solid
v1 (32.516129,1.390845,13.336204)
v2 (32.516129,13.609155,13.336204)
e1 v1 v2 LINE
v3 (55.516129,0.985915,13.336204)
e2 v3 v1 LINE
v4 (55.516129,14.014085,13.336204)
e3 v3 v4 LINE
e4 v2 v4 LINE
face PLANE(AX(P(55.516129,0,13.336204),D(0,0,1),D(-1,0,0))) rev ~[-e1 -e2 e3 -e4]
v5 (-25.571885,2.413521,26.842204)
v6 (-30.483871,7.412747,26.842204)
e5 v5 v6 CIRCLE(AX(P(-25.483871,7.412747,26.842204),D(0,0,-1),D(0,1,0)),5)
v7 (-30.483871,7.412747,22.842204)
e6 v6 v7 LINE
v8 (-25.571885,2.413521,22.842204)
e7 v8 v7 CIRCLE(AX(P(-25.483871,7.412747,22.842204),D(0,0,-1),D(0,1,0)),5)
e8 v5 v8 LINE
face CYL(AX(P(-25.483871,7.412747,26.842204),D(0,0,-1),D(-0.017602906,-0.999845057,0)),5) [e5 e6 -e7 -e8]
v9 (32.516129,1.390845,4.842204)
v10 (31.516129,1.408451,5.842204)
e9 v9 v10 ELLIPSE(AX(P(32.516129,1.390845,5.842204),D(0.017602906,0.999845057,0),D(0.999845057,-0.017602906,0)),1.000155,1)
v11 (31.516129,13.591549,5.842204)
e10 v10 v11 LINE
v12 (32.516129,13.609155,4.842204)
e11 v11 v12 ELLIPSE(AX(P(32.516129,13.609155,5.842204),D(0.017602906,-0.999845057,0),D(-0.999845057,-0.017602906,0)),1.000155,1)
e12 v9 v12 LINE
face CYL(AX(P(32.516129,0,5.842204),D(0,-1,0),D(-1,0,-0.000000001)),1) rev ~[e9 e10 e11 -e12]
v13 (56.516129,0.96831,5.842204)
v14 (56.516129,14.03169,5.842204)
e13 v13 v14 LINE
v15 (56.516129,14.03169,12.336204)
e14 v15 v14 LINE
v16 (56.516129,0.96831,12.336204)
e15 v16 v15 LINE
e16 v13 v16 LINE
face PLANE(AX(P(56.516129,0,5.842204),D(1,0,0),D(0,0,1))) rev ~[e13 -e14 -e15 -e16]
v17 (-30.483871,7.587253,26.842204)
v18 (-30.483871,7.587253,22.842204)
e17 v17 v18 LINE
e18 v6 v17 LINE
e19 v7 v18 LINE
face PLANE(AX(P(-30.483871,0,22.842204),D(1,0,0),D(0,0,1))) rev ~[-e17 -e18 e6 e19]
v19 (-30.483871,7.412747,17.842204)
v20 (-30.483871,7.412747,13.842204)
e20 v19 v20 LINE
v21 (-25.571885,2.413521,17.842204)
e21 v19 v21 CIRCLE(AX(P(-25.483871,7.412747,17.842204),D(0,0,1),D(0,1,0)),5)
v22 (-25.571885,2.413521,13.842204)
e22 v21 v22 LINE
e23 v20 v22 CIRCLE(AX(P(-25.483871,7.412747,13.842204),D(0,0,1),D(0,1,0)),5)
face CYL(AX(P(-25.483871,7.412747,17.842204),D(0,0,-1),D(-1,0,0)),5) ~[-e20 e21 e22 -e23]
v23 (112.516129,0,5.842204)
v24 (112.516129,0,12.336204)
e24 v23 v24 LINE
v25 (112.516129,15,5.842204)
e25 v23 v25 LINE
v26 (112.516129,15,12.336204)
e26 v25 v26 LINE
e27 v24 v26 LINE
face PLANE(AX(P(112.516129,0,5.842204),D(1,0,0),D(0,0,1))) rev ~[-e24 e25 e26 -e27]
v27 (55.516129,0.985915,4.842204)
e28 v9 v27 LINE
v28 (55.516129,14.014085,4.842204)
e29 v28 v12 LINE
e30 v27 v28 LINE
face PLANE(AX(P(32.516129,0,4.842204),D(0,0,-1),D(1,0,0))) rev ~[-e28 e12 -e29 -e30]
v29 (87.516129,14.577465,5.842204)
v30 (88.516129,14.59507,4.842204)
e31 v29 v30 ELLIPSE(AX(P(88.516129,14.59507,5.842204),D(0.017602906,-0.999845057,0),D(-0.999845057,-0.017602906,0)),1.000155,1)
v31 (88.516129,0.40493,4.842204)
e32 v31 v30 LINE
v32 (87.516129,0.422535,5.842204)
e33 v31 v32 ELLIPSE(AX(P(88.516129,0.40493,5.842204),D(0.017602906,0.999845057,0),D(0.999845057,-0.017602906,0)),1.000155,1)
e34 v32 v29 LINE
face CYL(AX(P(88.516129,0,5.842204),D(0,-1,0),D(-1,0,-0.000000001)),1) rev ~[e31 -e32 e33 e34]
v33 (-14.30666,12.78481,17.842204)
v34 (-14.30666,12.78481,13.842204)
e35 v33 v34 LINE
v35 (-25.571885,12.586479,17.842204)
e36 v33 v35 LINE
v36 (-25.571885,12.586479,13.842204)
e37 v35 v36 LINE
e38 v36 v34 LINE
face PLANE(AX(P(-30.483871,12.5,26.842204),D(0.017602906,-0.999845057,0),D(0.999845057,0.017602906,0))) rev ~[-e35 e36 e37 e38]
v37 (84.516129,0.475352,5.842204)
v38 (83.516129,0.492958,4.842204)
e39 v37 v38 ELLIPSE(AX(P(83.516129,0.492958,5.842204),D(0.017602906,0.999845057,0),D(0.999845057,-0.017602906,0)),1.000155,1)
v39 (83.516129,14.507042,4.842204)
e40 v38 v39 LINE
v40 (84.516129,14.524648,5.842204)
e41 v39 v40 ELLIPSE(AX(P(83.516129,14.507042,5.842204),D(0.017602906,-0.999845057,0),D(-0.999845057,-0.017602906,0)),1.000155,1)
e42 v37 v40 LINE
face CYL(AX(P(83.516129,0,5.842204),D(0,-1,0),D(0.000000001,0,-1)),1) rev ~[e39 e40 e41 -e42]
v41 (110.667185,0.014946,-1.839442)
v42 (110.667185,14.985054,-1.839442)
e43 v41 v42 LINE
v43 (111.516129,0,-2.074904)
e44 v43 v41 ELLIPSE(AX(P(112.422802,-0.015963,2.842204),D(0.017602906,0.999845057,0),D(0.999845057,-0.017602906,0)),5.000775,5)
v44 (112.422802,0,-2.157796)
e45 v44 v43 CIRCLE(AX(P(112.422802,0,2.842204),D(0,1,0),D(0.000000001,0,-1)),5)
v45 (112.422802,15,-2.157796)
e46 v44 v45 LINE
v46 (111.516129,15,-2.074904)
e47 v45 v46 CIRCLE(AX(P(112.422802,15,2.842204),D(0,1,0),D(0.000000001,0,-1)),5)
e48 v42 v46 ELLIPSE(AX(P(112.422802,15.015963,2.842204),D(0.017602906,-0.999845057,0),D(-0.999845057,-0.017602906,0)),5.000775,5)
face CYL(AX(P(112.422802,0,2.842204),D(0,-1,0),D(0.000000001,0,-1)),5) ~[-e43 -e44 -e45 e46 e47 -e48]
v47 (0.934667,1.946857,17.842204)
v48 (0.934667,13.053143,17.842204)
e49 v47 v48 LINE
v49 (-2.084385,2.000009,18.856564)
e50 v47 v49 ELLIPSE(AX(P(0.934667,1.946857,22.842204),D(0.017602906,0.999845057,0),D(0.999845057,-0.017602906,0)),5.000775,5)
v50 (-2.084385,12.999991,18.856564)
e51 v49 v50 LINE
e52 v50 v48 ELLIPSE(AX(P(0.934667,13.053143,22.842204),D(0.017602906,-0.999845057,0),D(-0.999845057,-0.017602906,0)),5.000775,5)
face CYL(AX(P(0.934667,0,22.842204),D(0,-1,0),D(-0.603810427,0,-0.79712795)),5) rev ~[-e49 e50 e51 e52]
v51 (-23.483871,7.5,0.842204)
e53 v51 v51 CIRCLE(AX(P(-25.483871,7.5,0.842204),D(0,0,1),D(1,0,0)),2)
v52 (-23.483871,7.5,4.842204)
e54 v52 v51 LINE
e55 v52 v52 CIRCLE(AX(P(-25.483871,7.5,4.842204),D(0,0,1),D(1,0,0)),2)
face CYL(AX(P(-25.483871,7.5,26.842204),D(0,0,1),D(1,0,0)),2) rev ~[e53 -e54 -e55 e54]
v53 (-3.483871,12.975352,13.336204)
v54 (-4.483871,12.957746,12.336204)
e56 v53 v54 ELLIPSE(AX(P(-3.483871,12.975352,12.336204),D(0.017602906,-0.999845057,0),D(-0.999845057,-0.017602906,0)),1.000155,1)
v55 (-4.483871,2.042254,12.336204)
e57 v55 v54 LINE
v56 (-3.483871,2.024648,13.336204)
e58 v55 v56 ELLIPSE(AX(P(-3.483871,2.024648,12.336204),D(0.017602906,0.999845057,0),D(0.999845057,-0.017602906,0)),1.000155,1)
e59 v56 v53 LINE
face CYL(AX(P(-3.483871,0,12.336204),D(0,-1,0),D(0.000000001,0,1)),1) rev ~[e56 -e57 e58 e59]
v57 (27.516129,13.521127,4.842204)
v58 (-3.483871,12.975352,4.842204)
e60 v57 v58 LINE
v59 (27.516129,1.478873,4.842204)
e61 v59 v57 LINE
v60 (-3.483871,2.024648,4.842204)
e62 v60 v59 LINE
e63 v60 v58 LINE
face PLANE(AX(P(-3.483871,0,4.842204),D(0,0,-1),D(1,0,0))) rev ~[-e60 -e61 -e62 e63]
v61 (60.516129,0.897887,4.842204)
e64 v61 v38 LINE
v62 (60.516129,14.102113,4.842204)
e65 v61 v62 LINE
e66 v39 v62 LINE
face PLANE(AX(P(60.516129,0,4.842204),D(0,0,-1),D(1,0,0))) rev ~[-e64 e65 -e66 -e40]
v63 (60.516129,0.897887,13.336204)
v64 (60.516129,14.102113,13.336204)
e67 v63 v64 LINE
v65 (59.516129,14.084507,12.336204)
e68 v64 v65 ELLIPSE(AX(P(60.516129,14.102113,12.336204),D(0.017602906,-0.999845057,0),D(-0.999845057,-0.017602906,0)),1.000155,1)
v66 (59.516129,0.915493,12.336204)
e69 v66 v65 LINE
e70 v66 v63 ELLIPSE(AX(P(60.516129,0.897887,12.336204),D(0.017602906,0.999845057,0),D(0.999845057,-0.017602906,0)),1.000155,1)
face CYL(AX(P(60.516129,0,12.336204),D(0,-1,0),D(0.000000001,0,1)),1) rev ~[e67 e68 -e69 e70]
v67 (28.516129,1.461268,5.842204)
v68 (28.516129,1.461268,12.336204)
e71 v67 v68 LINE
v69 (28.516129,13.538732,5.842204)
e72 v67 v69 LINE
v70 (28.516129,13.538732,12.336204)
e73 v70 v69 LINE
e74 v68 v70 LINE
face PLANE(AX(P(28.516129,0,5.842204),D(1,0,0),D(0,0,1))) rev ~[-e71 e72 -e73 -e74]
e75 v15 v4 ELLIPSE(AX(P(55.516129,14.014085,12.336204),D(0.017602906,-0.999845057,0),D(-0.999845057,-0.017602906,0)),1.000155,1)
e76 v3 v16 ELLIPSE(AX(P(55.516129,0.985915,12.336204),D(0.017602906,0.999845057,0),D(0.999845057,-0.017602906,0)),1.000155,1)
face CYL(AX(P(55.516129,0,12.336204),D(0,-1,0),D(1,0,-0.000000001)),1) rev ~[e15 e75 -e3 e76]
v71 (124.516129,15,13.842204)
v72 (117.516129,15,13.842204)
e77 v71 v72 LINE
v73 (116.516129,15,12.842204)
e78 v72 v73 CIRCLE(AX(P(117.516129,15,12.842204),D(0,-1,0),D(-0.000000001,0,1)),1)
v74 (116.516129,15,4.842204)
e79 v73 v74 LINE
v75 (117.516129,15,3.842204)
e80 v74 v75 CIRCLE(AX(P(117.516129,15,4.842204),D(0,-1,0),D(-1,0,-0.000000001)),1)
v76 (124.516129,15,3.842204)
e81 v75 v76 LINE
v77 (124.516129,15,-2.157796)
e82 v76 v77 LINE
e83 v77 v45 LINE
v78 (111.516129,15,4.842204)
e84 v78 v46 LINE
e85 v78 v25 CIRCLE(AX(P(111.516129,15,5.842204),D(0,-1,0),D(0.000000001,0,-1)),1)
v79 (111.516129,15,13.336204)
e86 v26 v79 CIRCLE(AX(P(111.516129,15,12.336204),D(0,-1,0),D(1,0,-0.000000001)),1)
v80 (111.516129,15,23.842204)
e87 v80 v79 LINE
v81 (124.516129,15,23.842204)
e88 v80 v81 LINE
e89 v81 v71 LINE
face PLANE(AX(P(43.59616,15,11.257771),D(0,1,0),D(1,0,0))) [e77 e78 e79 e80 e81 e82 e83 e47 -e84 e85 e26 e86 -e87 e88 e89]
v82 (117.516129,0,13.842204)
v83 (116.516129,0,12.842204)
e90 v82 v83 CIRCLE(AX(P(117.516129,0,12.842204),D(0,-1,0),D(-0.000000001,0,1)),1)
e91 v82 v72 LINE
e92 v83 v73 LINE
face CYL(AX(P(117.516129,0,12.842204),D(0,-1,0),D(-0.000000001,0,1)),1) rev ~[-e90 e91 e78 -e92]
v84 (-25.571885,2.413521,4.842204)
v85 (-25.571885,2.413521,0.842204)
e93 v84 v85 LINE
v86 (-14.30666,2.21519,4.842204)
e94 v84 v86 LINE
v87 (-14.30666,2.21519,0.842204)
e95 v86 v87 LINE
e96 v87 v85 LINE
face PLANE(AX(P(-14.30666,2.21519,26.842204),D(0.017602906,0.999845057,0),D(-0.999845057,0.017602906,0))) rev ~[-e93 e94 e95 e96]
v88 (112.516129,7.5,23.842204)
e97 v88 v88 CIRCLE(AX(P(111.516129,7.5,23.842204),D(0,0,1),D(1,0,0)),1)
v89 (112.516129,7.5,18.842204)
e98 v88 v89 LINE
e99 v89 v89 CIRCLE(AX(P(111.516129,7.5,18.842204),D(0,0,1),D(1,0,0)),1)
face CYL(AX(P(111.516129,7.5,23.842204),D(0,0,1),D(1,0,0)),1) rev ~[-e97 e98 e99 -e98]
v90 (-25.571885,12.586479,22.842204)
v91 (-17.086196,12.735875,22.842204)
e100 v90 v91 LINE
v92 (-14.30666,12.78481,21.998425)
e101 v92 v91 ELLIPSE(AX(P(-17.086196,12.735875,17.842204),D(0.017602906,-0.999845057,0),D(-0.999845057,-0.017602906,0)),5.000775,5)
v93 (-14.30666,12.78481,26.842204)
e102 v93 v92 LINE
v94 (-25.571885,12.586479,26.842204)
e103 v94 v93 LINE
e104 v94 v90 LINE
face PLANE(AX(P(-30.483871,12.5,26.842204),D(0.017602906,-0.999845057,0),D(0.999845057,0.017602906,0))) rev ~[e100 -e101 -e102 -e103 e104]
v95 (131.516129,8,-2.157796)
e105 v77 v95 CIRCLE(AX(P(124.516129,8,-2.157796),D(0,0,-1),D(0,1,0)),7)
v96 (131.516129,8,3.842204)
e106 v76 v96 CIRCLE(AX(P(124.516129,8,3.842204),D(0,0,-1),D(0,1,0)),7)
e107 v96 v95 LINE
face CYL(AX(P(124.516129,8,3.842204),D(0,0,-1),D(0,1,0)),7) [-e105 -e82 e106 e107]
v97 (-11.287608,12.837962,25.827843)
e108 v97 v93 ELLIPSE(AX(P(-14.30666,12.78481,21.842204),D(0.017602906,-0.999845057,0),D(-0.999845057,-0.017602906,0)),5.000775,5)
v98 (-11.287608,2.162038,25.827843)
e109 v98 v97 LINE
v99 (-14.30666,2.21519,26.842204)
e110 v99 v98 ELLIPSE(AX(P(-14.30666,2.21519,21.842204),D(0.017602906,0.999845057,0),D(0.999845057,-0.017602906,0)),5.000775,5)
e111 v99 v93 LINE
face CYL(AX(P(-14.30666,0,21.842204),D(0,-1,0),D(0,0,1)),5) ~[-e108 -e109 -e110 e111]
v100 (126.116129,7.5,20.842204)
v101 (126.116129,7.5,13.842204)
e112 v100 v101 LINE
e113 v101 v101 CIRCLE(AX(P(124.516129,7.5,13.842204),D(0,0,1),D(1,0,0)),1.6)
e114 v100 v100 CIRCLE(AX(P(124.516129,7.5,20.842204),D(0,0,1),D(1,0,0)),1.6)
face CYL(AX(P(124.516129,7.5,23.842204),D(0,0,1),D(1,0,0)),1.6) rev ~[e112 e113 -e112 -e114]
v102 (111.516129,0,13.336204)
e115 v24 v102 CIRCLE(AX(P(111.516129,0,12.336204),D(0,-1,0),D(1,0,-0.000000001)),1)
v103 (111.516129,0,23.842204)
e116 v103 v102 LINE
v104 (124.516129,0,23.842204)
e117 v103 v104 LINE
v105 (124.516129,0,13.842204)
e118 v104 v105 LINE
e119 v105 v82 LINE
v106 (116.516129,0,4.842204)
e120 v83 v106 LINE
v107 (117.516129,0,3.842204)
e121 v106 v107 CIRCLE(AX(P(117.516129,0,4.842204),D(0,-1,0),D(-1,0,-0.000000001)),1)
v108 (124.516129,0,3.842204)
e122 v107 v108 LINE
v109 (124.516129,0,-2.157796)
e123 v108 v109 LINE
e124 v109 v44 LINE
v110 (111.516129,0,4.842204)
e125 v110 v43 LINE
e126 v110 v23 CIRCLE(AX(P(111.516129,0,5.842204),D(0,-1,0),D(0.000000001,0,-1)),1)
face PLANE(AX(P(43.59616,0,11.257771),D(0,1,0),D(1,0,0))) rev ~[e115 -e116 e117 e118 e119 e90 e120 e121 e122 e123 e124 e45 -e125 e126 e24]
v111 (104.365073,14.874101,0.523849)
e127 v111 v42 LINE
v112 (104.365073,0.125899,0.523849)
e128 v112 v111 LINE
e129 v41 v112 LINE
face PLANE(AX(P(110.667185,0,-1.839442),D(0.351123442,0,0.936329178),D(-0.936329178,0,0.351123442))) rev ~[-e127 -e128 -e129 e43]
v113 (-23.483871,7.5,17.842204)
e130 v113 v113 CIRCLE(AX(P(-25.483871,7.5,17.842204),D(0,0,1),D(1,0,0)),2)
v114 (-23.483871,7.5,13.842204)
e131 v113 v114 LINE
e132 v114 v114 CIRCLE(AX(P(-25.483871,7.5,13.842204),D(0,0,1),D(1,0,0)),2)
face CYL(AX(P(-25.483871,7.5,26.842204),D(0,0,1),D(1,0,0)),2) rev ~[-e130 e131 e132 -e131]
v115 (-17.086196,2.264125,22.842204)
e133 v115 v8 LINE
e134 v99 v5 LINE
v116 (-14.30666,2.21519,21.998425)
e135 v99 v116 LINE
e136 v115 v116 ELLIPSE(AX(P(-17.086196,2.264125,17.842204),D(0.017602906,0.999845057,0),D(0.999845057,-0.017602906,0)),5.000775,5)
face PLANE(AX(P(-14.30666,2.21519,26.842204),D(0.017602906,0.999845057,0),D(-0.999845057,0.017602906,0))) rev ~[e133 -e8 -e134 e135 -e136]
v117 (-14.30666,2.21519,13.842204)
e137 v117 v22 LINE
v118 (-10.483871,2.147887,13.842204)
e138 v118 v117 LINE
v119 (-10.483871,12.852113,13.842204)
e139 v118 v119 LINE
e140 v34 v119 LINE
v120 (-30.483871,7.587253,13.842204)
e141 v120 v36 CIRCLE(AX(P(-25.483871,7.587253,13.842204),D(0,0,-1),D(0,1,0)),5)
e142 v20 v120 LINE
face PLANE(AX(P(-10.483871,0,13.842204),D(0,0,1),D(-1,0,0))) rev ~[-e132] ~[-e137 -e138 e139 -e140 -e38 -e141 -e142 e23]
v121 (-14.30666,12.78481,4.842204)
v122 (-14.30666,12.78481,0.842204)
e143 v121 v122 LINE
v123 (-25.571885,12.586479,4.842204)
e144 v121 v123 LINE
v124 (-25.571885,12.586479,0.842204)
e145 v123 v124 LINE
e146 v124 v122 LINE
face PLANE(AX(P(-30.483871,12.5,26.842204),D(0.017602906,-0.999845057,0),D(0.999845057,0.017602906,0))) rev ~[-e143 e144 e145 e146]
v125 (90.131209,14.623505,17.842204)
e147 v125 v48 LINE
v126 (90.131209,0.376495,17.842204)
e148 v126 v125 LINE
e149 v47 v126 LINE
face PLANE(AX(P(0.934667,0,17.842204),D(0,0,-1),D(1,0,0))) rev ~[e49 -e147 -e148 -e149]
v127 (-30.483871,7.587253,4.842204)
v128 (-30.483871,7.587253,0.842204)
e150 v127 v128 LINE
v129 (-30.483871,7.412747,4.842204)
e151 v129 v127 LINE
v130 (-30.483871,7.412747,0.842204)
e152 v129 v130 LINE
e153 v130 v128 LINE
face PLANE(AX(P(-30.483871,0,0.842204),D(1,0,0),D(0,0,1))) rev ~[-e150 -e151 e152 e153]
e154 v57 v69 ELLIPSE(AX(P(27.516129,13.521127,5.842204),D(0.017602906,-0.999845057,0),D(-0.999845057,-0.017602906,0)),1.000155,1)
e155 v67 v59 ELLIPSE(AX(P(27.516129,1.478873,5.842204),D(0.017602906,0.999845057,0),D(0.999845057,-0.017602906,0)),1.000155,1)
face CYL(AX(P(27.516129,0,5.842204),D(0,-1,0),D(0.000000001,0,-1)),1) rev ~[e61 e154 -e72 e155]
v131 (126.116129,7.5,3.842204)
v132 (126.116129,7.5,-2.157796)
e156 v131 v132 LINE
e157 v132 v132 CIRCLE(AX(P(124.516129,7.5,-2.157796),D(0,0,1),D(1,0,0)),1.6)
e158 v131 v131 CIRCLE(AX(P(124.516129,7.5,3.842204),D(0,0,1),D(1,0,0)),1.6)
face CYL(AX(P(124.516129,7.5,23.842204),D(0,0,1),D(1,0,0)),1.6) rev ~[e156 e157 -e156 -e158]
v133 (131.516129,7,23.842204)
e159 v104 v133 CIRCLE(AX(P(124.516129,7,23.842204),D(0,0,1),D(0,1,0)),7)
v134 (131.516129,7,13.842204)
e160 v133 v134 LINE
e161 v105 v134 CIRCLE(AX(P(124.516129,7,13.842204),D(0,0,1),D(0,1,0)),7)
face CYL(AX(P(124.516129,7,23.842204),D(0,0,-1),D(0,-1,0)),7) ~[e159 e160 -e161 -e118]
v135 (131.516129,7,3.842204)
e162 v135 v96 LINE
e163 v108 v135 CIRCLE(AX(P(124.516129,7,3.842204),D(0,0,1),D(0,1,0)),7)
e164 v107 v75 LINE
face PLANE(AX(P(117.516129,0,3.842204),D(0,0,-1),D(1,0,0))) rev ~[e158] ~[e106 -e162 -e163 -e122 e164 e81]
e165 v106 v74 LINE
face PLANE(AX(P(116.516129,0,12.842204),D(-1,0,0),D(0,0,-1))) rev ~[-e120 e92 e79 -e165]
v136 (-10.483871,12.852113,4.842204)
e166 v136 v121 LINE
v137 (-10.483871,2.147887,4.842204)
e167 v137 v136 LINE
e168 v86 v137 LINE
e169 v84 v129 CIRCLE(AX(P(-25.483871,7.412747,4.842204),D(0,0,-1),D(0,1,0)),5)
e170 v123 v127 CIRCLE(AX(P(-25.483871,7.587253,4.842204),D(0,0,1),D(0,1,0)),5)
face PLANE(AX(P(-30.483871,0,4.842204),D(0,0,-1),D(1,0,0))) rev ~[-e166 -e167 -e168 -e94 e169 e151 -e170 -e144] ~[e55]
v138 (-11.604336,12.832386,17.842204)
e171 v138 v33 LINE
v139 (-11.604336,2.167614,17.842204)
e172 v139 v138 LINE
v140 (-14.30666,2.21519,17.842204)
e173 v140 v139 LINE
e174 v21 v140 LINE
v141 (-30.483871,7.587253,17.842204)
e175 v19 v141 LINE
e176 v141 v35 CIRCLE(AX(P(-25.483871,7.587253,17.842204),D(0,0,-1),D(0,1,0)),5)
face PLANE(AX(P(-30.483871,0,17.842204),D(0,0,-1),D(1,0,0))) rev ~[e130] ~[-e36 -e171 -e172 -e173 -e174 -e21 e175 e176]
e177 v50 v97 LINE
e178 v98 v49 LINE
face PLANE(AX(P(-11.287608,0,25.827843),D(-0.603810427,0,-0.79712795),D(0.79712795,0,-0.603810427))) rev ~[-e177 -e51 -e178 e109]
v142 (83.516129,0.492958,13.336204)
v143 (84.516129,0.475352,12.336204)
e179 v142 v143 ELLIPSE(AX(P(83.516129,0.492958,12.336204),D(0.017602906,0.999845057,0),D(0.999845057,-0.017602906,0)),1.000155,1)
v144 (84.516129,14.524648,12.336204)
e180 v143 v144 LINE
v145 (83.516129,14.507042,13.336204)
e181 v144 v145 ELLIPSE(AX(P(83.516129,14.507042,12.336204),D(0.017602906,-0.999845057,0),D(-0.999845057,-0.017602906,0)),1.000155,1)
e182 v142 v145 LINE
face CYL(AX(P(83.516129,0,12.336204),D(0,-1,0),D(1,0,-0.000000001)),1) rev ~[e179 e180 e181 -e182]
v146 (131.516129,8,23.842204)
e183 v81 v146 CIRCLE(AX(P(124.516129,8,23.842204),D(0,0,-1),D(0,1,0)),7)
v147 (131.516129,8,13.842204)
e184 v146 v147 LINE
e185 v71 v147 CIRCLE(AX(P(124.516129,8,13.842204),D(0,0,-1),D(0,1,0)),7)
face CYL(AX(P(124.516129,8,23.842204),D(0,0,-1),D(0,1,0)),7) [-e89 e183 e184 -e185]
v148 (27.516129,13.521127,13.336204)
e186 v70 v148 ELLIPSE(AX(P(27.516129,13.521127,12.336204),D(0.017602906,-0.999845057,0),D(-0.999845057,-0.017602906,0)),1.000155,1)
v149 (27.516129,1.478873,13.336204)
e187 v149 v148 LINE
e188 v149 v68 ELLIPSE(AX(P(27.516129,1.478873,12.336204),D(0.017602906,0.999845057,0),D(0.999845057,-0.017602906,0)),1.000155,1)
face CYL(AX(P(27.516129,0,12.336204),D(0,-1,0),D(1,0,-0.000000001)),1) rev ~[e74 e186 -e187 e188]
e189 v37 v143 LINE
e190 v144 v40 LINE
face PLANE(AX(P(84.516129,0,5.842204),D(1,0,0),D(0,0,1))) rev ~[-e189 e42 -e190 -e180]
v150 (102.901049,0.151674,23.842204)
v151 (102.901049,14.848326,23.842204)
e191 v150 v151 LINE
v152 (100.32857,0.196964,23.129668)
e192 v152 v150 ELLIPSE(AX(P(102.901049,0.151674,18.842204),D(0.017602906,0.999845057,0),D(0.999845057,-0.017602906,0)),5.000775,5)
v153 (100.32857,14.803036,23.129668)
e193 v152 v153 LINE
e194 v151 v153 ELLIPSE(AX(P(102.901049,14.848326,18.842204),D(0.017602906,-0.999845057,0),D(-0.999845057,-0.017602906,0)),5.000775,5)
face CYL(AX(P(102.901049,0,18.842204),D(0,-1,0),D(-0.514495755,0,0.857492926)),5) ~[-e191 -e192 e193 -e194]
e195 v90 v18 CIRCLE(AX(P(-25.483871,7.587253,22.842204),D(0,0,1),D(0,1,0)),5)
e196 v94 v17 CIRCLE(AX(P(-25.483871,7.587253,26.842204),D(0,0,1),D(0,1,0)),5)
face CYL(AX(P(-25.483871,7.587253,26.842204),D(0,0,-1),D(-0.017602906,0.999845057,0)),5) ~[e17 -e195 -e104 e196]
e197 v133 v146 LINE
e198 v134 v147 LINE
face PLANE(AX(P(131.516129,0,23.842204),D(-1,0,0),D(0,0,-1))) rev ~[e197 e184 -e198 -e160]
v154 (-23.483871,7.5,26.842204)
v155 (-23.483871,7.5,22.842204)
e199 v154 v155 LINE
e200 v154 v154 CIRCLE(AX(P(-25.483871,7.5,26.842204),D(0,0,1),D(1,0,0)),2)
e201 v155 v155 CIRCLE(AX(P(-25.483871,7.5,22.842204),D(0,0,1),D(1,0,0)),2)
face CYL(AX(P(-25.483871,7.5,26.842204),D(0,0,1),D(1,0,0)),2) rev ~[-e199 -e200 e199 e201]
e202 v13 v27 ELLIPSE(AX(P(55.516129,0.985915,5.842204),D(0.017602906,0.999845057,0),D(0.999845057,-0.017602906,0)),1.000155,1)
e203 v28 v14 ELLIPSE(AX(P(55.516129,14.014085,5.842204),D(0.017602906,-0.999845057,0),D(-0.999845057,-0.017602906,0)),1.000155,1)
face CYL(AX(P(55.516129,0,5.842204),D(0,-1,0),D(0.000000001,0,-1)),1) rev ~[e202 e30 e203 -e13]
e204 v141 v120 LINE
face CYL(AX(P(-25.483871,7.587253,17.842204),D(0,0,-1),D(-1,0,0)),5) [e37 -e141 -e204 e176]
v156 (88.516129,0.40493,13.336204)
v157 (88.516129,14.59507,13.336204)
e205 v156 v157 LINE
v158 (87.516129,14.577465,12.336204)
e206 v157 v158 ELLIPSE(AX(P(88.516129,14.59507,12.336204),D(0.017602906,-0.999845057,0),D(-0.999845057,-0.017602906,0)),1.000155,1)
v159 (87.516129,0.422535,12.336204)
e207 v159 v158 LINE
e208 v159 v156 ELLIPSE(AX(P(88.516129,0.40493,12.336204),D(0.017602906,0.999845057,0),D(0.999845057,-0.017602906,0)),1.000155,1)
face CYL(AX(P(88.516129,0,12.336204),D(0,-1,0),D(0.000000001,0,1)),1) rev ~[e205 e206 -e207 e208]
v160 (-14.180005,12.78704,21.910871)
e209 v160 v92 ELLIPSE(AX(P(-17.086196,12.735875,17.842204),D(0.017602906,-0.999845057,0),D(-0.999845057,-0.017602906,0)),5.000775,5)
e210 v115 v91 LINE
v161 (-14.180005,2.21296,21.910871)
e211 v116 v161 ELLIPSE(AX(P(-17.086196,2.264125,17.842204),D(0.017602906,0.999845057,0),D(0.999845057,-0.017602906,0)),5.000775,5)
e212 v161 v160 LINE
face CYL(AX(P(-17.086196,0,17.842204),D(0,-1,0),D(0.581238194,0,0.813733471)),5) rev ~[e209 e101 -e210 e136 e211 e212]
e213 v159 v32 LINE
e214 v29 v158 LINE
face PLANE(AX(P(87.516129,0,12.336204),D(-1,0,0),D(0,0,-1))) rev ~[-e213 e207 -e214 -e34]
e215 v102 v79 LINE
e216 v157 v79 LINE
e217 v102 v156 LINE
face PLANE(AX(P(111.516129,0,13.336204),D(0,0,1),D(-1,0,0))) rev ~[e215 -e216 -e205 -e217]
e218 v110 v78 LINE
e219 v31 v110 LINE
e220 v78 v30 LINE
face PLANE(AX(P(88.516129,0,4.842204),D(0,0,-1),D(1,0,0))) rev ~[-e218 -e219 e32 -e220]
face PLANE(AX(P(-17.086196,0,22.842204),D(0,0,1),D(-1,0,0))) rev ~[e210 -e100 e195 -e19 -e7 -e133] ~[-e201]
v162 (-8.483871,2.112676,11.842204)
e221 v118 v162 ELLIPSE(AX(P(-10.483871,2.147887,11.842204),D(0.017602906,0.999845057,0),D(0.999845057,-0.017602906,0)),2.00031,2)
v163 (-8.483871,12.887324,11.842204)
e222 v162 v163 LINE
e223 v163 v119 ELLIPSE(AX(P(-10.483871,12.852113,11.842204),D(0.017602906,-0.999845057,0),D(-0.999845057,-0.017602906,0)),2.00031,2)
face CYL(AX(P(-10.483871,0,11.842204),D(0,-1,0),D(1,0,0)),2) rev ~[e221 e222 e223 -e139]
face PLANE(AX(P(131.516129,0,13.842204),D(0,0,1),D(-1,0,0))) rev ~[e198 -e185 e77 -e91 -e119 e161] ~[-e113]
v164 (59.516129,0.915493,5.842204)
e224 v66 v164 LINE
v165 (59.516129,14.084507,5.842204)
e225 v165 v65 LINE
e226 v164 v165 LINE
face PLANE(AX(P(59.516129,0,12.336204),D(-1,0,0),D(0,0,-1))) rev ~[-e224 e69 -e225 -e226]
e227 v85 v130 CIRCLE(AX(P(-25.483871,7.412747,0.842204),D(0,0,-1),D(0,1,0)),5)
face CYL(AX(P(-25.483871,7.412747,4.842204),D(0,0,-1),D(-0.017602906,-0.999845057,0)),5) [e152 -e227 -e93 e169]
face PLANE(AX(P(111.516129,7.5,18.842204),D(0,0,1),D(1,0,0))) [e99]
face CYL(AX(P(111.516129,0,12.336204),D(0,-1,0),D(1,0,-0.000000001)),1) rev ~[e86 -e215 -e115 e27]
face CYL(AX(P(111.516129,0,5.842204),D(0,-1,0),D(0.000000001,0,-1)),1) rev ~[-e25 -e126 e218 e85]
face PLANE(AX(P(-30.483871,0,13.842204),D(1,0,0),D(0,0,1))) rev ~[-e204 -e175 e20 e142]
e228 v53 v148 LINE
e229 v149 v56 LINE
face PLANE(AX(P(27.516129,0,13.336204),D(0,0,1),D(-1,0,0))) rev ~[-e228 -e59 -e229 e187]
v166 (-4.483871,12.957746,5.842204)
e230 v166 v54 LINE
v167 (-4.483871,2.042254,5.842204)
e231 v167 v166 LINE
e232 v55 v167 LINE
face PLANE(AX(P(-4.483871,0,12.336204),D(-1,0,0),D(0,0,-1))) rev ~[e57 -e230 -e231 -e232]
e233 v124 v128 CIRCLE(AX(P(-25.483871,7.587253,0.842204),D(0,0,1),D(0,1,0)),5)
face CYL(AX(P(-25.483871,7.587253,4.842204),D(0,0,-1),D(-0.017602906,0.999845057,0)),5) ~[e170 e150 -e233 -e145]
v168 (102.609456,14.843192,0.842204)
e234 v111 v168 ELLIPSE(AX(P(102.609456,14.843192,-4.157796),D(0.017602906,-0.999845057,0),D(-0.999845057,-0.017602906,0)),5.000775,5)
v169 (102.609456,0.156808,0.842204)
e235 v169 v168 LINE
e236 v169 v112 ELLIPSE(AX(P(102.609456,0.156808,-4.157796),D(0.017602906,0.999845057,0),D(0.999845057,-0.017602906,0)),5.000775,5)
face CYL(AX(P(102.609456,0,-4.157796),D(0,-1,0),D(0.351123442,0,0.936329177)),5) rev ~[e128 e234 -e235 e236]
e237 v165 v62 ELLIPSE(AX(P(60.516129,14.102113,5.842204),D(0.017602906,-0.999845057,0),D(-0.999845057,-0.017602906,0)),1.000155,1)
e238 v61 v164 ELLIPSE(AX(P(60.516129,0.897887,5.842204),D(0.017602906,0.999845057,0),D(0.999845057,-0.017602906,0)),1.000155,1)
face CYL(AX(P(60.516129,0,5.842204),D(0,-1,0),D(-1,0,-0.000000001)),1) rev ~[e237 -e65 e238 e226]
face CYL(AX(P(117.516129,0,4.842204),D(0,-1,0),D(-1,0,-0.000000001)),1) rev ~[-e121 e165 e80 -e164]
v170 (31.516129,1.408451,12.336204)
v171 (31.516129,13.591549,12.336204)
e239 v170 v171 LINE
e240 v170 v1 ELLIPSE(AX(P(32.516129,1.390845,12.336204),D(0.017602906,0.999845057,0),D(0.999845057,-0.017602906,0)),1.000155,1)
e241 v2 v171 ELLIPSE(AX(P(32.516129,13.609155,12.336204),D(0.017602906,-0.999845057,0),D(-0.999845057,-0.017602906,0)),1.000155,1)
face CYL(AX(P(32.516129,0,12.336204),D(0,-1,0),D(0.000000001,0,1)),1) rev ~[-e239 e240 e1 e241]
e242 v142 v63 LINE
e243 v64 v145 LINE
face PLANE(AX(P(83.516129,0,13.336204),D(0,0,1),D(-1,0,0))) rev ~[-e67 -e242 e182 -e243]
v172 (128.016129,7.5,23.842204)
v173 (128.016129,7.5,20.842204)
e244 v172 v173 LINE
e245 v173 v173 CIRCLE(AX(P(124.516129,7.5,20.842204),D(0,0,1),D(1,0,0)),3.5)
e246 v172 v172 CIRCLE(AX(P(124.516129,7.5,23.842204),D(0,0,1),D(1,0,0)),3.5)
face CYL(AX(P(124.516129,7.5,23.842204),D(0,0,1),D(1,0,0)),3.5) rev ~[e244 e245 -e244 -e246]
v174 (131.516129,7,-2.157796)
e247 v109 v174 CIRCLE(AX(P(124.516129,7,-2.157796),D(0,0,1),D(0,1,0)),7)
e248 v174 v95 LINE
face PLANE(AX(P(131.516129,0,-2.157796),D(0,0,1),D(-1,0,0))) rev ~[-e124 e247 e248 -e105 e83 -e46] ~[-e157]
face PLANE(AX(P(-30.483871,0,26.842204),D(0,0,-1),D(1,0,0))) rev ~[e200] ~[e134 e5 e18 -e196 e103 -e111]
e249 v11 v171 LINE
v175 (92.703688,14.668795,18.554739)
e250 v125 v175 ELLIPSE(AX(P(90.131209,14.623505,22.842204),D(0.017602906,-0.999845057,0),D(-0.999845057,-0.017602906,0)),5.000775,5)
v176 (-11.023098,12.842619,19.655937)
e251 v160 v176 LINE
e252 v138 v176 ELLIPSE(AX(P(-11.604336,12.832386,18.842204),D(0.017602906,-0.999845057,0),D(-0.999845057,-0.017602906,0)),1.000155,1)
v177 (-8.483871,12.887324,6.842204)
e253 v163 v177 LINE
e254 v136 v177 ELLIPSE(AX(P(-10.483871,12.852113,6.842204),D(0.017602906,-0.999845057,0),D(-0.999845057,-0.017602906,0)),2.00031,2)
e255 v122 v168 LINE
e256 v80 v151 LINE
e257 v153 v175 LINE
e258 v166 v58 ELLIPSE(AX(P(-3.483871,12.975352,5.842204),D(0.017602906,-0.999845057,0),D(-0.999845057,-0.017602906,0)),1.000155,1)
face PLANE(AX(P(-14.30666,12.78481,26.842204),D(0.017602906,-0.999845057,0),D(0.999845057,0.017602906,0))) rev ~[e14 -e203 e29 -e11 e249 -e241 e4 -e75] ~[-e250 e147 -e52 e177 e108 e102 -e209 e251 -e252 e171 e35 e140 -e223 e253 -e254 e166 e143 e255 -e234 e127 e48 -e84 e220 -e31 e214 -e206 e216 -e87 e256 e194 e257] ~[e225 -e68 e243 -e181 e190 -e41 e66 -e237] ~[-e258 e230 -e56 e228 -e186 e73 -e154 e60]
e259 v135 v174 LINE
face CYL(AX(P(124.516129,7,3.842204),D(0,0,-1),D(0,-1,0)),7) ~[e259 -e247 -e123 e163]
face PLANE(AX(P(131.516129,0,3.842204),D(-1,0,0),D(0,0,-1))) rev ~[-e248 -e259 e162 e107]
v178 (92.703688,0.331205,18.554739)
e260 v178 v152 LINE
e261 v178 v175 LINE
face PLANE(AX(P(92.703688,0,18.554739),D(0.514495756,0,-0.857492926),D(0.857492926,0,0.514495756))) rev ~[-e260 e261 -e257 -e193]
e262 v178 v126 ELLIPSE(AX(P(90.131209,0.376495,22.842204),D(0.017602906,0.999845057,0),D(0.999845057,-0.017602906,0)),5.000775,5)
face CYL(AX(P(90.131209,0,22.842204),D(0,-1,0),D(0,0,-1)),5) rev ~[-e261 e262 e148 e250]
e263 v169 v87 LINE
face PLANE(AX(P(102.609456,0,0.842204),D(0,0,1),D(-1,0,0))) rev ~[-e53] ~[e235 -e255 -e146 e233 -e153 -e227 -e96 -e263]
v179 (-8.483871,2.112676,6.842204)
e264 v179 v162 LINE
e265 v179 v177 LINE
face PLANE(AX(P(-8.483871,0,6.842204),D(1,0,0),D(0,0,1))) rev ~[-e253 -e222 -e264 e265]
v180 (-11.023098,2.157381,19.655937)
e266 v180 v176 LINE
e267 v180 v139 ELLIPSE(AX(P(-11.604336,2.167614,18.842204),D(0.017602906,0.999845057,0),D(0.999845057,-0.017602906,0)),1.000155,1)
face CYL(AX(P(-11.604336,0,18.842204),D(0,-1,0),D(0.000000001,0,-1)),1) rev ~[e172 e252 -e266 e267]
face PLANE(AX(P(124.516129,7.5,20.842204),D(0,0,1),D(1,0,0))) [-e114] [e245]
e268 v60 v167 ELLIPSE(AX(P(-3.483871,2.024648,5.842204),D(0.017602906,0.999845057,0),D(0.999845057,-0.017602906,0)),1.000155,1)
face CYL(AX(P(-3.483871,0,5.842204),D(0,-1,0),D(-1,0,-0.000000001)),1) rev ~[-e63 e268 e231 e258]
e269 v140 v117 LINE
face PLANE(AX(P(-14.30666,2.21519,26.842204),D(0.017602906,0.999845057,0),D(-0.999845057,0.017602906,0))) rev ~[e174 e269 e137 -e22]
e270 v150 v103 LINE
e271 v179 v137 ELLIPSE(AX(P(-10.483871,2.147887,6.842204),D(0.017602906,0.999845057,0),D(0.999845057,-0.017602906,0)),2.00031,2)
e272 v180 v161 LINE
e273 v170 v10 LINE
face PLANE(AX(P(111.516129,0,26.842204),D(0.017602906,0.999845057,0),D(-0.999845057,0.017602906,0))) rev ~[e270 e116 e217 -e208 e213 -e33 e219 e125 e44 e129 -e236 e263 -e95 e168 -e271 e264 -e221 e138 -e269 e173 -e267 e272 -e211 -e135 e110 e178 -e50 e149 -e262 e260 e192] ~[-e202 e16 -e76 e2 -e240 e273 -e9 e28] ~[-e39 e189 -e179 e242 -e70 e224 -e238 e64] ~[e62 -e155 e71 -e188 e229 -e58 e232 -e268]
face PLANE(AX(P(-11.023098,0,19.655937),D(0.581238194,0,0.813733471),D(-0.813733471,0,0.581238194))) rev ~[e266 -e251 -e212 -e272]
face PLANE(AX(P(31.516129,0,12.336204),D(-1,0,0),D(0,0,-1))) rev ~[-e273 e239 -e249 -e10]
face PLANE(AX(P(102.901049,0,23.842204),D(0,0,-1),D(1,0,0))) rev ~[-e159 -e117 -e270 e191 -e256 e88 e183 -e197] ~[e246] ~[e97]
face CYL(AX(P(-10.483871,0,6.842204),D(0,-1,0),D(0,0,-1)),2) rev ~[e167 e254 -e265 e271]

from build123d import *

# Parameters (mm, degrees)
BOSS_EXTRUDE1_DEPTH = 15
CUT_EXTRUDE1_DEPTH  = 136.508273532
SKETCH3_R           = 2
CUT_EXTRUDE2_DEPTH  = 136.508273532
SKETCH4_R           = 1.6
CUT_EXTRUDE3_DEPTH  = 135.898080771
FILLET1_R           = 5
FILLET2_R           = 7
SKETCH6_R           = 3.5
CUT_EXTRUDE4_DEPTH  = 3
SKETCH7_R           = 1
CUT_EXTRUDE5_DEPTH  = 5


with BuildPart() as part:
    # Sketch1 → Boss-Extrude1 (new body)
    with BuildSketch(Plane(origin=(0, 0, 0), x_dir=(1, 0, 0), z_dir=(0, 1, 0))):
        with BuildLine():
            Line((-30.483870968, -13.842203604), (-30.483870968, -17.842203604))
            Line((-30.483870968, -17.842203604), (-15.483870968, -17.842203604))
            Line((-15.483870968, -17.842203604), (-11.604336021, -17.842203604))
            ThreePointArc((-11.604336021, -17.842203604), (-10.652040513, -18.537026173), (-11.023097827, -19.655937075))
            Line((-11.023097827, -19.655937075), (-14.180005266, -21.91087096))
            ThreePointArc((-14.180005266, -21.91087096), (-15.56030908, -22.603681147), (-17.086196235, -22.842203604))
            Line((-17.086196235, -22.842203604), (-30.483870968, -22.842203604))
            Line((-30.483870968, -22.842203604), (-30.483870968, -26.842203604))
            Line((-30.483870968, -26.842203604), (-14.306659767, -26.842203604))
            ThreePointArc((-14.306659767, -26.842203604), (-12.714208629, -26.581834325), (-11.287607633, -25.827843353))
            Line((-11.287607633, -25.827843353), (-2.084385084, -18.856563855))
            ThreePointArc((-2.084385084, -18.856563855), (-0.657784088, -18.102572883), (0.93466705, -17.842203604))
            Line((0.93466705, -17.842203604), (90.131209208, -17.842203604))
            ThreePointArc((90.131209208, -17.842203604), (91.465877117, -18.023628963), (92.703687985, -18.554738975))
            Line((92.703687985, -18.554738975), (100.32857008, -23.129668233))
            ThreePointArc((100.32857008, -23.129668233), (101.566380948, -23.660778245), (102.901048857, -23.842203604))
            Line((102.901048857, -23.842203604), (131.516129032, -23.842203604))
            Line((131.516129032, -23.842203604), (131.516129032, -13.842203604))
            Line((131.516129032, -13.842203604), (117.516129032, -13.842203604))
            ThreePointArc((117.516129032, -13.842203604), (116.809022251, -13.549310385), (116.516129032, -12.842203604))
            Line((116.516129032, -12.842203604), (116.516129032, -4.842203604))
            ThreePointArc((116.516129032, -4.842203604), (116.809022251, -4.135096823), (117.516129032, -3.842203604))
            Line((117.516129032, -3.842203604), (131.516129032, -3.842203604))
            Line((131.516129032, -3.842203604), (131.516129032, -0.842203604))
            Line((131.516129032, -0.842203604), (131.516129032, 2.157796396))
            Line((131.516129032, 2.157796396), (112.422801941, 2.157796396))
            ThreePointArc((112.422801941, 2.157796396), (111.530677914, 2.077564147), (110.667184733, 1.839442284))
            Line((110.667184733, 1.839442284), (104.365073331, -0.523849492))
            ThreePointArc((104.365073331, -0.523849492), (103.501580151, -0.761971355), (102.609456123, -0.842203604))
            Line((102.609456123, -0.842203604), (-30.483870968, -0.842203604))
            Line((-30.483870968, -0.842203604), (-30.483870968, -4.842203604))
            Line((-30.483870968, -4.842203604), (-10.483870968, -4.842203604))
            ThreePointArc((-10.483870968, -4.842203604), (-9.069657405, -5.427990042), (-8.483870968, -6.842203604))
            Line((-8.483870968, -6.842203604), (-8.483870968, -11.842203604))
            ThreePointArc((-8.483870968, -11.842203604), (-9.069657405, -13.256417166), (-10.483870968, -13.842203604))
            Line((-10.483870968, -13.842203604), (-30.483870968, -13.842203604))
        make_face()
        with BuildLine():
            Line((-3.483870968, -4.842203604), (27.516129032, -4.842203604))
            ThreePointArc((27.516129032, -4.842203604), (28.223235813, -5.135096823), (28.516129032, -5.842203604))
            Line((28.516129032, -5.842203604), (28.516129032, -12.336203873))
            ThreePointArc((28.516129032, -12.336203873), (28.223235813, -13.043310655), (27.516129032, -13.336203873))
            Line((27.516129032, -13.336203873), (-3.483870968, -13.336203873))
            ThreePointArc((-3.483870968, -13.336203873), (-4.190977749, -13.043310655), (-4.483870968, -12.336203873))
            Line((-4.483870968, -12.336203873), (-4.483870968, -5.842203604))
            ThreePointArc((-4.483870968, -5.842203604), (-4.190977749, -5.135096823), (-3.483870968, -4.842203604))
        make_face(mode=Mode.SUBTRACT)
        with BuildLine():
            Line((32.516129032, -4.842203604), (55.516129032, -4.842203604))
            ThreePointArc((55.516129032, -4.842203604), (56.223235813, -5.135096823), (56.516129032, -5.842203604))
            Line((56.516129032, -5.842203604), (56.516129032, -12.336203873))
            ThreePointArc((56.516129032, -12.336203873), (56.223235813, -13.043310655), (55.516129032, -13.336203873))
            Line((55.516129032, -13.336203873), (32.516129032, -13.336203873))
            ThreePointArc((32.516129032, -13.336203873), (31.809022251, -13.043310655), (31.516129032, -12.336203873))
            Line((31.516129032, -12.336203873), (31.516129032, -5.842203604))
            ThreePointArc((31.516129032, -5.842203604), (31.809022251, -5.135096823), (32.516129032, -4.842203604))
        make_face(mode=Mode.SUBTRACT)
        with BuildLine():
            Line((60.516129032, -4.842203604), (83.516129032, -4.842203604))
            ThreePointArc((83.516129032, -4.842203604), (84.223235813, -5.135096823), (84.516129032, -5.842203604))
            Line((84.516129032, -5.842203604), (84.516129032, -12.336203873))
            ThreePointArc((84.516129032, -12.336203873), (84.223235813, -13.043310655), (83.516129032, -13.336203873))
            Line((83.516129032, -13.336203873), (60.516129032, -13.336203873))
            ThreePointArc((60.516129032, -13.336203873), (59.809022251, -13.043310655), (59.516129032, -12.336203873))
            Line((59.516129032, -12.336203873), (59.516129032, -5.842203604))
            ThreePointArc((59.516129032, -5.842203604), (59.809022251, -5.135096823), (60.516129032, -4.842203604))
        make_face(mode=Mode.SUBTRACT)
        with BuildLine():
            Line((88.516129032, -4.842203604), (111.516129032, -4.842203604))
            ThreePointArc((111.516129032, -4.842203604), (112.223235813, -5.135096823), (112.516129032, -5.842203604))
            Line((112.516129032, -5.842203604), (112.516129032, -12.336203873))
            ThreePointArc((112.516129032, -12.336203873), (112.223235813, -13.043310655), (111.516129032, -13.336203873))
            Line((111.516129032, -13.336203873), (88.516129032, -13.336203873))
            ThreePointArc((88.516129032, -13.336203873), (87.809022251, -13.043310655), (87.516129032, -12.336203873))
            Line((87.516129032, -12.336203873), (87.516129032, -5.842203604))
            ThreePointArc((87.516129032, -5.842203604), (87.809022251, -5.135096823), (88.516129032, -4.842203604))
        make_face(mode=Mode.SUBTRACT)
    extrude(amount=BOSS_EXTRUDE1_DEPTH)

    # Sketch2 → Cut-Extrude1 (cut, through all)
    with BuildSketch(Plane.XY.offset(26.842203604)):
        Polygon((-14.306659767, 2.215189944), (-30.483870968, 2.5), (-30.483870968, 0), (-14.306659767, 0), align=None)
        Polygon((111.516129032, 0), (-14.306659767, 2.215189944), (-14.306659767, 0), align=None)
        Polygon((-30.483870968, 15), (-30.483870968, 12.5), (-14.306659767, 12.784810056), (-14.306659767, 15), align=None)
        Polygon((-14.306659767, 15), (-14.306659767, 12.784810056), (111.516129032, 15), align=None)
    extrude(amount=-CUT_EXTRUDE1_DEPTH, mode=Mode.SUBTRACT)

    # Sketch3 → Cut-Extrude2 (cut, through all)
    with BuildSketch(Plane.XY.offset(26.842203604)):
        with Locations((-25.483870968, 7.5)):
            Circle(SKETCH3_R)
    extrude(amount=-CUT_EXTRUDE2_DEPTH, mode=Mode.SUBTRACT)

    # Sketch4 → Cut-Extrude3 (cut, through all)
    with BuildSketch(Plane.XY.offset(23.842203604)):
        with Locations((124.516129032, 7.5)):
            Circle(SKETCH4_R)
    extrude(amount=-CUT_EXTRUDE3_DEPTH, mode=Mode.SUBTRACT)

    # Fillet1
    fillet1_edges = [part.edges().sort_by_distance(p)[0] for p in [
        (-30.483870968, 2.5, 2.842203604),
        (-30.483870968, 2.5, 15.842203604),
        (-30.483870968, 2.5, 24.842203604),
        (-30.483870968, 12.5, 2.842203604),
        (-30.483870968, 12.5, 15.842203604),
        (-30.483870968, 12.5, 24.842203604),
    ]]
    fillet(fillet1_edges, radius=FILLET1_R)

    # Fillet2
    fillet2_edges = [part.edges().sort_by_distance(p)[0] for p in [
        (131.516129032, 0, 0.842203604),
        (131.516129032, 0, 18.842203604),
        (131.516129032, 15, 18.842203604),
        (131.516129032, 15, 0.842203604),
    ]]
    fillet(fillet2_edges, radius=FILLET2_R)

    # Sketch6 → Cut-Extrude4 (cut)
    with BuildSketch(Plane.XY.offset(23.842203604)):
        with Locations((124.516129032, 7.5)):
            Circle(SKETCH6_R)
    extrude(amount=-CUT_EXTRUDE4_DEPTH, mode=Mode.SUBTRACT)

    # Sketch7 → Cut-Extrude5 (cut)
    with BuildSketch(Plane.XY.offset(23.842203604)):
        with Locations((111.516129032, 7.5)):
            Circle(SKETCH7_R)
    extrude(amount=-CUT_EXTRUDE5_DEPTH, mode=Mode.SUBTRACT)


solid = part.part
